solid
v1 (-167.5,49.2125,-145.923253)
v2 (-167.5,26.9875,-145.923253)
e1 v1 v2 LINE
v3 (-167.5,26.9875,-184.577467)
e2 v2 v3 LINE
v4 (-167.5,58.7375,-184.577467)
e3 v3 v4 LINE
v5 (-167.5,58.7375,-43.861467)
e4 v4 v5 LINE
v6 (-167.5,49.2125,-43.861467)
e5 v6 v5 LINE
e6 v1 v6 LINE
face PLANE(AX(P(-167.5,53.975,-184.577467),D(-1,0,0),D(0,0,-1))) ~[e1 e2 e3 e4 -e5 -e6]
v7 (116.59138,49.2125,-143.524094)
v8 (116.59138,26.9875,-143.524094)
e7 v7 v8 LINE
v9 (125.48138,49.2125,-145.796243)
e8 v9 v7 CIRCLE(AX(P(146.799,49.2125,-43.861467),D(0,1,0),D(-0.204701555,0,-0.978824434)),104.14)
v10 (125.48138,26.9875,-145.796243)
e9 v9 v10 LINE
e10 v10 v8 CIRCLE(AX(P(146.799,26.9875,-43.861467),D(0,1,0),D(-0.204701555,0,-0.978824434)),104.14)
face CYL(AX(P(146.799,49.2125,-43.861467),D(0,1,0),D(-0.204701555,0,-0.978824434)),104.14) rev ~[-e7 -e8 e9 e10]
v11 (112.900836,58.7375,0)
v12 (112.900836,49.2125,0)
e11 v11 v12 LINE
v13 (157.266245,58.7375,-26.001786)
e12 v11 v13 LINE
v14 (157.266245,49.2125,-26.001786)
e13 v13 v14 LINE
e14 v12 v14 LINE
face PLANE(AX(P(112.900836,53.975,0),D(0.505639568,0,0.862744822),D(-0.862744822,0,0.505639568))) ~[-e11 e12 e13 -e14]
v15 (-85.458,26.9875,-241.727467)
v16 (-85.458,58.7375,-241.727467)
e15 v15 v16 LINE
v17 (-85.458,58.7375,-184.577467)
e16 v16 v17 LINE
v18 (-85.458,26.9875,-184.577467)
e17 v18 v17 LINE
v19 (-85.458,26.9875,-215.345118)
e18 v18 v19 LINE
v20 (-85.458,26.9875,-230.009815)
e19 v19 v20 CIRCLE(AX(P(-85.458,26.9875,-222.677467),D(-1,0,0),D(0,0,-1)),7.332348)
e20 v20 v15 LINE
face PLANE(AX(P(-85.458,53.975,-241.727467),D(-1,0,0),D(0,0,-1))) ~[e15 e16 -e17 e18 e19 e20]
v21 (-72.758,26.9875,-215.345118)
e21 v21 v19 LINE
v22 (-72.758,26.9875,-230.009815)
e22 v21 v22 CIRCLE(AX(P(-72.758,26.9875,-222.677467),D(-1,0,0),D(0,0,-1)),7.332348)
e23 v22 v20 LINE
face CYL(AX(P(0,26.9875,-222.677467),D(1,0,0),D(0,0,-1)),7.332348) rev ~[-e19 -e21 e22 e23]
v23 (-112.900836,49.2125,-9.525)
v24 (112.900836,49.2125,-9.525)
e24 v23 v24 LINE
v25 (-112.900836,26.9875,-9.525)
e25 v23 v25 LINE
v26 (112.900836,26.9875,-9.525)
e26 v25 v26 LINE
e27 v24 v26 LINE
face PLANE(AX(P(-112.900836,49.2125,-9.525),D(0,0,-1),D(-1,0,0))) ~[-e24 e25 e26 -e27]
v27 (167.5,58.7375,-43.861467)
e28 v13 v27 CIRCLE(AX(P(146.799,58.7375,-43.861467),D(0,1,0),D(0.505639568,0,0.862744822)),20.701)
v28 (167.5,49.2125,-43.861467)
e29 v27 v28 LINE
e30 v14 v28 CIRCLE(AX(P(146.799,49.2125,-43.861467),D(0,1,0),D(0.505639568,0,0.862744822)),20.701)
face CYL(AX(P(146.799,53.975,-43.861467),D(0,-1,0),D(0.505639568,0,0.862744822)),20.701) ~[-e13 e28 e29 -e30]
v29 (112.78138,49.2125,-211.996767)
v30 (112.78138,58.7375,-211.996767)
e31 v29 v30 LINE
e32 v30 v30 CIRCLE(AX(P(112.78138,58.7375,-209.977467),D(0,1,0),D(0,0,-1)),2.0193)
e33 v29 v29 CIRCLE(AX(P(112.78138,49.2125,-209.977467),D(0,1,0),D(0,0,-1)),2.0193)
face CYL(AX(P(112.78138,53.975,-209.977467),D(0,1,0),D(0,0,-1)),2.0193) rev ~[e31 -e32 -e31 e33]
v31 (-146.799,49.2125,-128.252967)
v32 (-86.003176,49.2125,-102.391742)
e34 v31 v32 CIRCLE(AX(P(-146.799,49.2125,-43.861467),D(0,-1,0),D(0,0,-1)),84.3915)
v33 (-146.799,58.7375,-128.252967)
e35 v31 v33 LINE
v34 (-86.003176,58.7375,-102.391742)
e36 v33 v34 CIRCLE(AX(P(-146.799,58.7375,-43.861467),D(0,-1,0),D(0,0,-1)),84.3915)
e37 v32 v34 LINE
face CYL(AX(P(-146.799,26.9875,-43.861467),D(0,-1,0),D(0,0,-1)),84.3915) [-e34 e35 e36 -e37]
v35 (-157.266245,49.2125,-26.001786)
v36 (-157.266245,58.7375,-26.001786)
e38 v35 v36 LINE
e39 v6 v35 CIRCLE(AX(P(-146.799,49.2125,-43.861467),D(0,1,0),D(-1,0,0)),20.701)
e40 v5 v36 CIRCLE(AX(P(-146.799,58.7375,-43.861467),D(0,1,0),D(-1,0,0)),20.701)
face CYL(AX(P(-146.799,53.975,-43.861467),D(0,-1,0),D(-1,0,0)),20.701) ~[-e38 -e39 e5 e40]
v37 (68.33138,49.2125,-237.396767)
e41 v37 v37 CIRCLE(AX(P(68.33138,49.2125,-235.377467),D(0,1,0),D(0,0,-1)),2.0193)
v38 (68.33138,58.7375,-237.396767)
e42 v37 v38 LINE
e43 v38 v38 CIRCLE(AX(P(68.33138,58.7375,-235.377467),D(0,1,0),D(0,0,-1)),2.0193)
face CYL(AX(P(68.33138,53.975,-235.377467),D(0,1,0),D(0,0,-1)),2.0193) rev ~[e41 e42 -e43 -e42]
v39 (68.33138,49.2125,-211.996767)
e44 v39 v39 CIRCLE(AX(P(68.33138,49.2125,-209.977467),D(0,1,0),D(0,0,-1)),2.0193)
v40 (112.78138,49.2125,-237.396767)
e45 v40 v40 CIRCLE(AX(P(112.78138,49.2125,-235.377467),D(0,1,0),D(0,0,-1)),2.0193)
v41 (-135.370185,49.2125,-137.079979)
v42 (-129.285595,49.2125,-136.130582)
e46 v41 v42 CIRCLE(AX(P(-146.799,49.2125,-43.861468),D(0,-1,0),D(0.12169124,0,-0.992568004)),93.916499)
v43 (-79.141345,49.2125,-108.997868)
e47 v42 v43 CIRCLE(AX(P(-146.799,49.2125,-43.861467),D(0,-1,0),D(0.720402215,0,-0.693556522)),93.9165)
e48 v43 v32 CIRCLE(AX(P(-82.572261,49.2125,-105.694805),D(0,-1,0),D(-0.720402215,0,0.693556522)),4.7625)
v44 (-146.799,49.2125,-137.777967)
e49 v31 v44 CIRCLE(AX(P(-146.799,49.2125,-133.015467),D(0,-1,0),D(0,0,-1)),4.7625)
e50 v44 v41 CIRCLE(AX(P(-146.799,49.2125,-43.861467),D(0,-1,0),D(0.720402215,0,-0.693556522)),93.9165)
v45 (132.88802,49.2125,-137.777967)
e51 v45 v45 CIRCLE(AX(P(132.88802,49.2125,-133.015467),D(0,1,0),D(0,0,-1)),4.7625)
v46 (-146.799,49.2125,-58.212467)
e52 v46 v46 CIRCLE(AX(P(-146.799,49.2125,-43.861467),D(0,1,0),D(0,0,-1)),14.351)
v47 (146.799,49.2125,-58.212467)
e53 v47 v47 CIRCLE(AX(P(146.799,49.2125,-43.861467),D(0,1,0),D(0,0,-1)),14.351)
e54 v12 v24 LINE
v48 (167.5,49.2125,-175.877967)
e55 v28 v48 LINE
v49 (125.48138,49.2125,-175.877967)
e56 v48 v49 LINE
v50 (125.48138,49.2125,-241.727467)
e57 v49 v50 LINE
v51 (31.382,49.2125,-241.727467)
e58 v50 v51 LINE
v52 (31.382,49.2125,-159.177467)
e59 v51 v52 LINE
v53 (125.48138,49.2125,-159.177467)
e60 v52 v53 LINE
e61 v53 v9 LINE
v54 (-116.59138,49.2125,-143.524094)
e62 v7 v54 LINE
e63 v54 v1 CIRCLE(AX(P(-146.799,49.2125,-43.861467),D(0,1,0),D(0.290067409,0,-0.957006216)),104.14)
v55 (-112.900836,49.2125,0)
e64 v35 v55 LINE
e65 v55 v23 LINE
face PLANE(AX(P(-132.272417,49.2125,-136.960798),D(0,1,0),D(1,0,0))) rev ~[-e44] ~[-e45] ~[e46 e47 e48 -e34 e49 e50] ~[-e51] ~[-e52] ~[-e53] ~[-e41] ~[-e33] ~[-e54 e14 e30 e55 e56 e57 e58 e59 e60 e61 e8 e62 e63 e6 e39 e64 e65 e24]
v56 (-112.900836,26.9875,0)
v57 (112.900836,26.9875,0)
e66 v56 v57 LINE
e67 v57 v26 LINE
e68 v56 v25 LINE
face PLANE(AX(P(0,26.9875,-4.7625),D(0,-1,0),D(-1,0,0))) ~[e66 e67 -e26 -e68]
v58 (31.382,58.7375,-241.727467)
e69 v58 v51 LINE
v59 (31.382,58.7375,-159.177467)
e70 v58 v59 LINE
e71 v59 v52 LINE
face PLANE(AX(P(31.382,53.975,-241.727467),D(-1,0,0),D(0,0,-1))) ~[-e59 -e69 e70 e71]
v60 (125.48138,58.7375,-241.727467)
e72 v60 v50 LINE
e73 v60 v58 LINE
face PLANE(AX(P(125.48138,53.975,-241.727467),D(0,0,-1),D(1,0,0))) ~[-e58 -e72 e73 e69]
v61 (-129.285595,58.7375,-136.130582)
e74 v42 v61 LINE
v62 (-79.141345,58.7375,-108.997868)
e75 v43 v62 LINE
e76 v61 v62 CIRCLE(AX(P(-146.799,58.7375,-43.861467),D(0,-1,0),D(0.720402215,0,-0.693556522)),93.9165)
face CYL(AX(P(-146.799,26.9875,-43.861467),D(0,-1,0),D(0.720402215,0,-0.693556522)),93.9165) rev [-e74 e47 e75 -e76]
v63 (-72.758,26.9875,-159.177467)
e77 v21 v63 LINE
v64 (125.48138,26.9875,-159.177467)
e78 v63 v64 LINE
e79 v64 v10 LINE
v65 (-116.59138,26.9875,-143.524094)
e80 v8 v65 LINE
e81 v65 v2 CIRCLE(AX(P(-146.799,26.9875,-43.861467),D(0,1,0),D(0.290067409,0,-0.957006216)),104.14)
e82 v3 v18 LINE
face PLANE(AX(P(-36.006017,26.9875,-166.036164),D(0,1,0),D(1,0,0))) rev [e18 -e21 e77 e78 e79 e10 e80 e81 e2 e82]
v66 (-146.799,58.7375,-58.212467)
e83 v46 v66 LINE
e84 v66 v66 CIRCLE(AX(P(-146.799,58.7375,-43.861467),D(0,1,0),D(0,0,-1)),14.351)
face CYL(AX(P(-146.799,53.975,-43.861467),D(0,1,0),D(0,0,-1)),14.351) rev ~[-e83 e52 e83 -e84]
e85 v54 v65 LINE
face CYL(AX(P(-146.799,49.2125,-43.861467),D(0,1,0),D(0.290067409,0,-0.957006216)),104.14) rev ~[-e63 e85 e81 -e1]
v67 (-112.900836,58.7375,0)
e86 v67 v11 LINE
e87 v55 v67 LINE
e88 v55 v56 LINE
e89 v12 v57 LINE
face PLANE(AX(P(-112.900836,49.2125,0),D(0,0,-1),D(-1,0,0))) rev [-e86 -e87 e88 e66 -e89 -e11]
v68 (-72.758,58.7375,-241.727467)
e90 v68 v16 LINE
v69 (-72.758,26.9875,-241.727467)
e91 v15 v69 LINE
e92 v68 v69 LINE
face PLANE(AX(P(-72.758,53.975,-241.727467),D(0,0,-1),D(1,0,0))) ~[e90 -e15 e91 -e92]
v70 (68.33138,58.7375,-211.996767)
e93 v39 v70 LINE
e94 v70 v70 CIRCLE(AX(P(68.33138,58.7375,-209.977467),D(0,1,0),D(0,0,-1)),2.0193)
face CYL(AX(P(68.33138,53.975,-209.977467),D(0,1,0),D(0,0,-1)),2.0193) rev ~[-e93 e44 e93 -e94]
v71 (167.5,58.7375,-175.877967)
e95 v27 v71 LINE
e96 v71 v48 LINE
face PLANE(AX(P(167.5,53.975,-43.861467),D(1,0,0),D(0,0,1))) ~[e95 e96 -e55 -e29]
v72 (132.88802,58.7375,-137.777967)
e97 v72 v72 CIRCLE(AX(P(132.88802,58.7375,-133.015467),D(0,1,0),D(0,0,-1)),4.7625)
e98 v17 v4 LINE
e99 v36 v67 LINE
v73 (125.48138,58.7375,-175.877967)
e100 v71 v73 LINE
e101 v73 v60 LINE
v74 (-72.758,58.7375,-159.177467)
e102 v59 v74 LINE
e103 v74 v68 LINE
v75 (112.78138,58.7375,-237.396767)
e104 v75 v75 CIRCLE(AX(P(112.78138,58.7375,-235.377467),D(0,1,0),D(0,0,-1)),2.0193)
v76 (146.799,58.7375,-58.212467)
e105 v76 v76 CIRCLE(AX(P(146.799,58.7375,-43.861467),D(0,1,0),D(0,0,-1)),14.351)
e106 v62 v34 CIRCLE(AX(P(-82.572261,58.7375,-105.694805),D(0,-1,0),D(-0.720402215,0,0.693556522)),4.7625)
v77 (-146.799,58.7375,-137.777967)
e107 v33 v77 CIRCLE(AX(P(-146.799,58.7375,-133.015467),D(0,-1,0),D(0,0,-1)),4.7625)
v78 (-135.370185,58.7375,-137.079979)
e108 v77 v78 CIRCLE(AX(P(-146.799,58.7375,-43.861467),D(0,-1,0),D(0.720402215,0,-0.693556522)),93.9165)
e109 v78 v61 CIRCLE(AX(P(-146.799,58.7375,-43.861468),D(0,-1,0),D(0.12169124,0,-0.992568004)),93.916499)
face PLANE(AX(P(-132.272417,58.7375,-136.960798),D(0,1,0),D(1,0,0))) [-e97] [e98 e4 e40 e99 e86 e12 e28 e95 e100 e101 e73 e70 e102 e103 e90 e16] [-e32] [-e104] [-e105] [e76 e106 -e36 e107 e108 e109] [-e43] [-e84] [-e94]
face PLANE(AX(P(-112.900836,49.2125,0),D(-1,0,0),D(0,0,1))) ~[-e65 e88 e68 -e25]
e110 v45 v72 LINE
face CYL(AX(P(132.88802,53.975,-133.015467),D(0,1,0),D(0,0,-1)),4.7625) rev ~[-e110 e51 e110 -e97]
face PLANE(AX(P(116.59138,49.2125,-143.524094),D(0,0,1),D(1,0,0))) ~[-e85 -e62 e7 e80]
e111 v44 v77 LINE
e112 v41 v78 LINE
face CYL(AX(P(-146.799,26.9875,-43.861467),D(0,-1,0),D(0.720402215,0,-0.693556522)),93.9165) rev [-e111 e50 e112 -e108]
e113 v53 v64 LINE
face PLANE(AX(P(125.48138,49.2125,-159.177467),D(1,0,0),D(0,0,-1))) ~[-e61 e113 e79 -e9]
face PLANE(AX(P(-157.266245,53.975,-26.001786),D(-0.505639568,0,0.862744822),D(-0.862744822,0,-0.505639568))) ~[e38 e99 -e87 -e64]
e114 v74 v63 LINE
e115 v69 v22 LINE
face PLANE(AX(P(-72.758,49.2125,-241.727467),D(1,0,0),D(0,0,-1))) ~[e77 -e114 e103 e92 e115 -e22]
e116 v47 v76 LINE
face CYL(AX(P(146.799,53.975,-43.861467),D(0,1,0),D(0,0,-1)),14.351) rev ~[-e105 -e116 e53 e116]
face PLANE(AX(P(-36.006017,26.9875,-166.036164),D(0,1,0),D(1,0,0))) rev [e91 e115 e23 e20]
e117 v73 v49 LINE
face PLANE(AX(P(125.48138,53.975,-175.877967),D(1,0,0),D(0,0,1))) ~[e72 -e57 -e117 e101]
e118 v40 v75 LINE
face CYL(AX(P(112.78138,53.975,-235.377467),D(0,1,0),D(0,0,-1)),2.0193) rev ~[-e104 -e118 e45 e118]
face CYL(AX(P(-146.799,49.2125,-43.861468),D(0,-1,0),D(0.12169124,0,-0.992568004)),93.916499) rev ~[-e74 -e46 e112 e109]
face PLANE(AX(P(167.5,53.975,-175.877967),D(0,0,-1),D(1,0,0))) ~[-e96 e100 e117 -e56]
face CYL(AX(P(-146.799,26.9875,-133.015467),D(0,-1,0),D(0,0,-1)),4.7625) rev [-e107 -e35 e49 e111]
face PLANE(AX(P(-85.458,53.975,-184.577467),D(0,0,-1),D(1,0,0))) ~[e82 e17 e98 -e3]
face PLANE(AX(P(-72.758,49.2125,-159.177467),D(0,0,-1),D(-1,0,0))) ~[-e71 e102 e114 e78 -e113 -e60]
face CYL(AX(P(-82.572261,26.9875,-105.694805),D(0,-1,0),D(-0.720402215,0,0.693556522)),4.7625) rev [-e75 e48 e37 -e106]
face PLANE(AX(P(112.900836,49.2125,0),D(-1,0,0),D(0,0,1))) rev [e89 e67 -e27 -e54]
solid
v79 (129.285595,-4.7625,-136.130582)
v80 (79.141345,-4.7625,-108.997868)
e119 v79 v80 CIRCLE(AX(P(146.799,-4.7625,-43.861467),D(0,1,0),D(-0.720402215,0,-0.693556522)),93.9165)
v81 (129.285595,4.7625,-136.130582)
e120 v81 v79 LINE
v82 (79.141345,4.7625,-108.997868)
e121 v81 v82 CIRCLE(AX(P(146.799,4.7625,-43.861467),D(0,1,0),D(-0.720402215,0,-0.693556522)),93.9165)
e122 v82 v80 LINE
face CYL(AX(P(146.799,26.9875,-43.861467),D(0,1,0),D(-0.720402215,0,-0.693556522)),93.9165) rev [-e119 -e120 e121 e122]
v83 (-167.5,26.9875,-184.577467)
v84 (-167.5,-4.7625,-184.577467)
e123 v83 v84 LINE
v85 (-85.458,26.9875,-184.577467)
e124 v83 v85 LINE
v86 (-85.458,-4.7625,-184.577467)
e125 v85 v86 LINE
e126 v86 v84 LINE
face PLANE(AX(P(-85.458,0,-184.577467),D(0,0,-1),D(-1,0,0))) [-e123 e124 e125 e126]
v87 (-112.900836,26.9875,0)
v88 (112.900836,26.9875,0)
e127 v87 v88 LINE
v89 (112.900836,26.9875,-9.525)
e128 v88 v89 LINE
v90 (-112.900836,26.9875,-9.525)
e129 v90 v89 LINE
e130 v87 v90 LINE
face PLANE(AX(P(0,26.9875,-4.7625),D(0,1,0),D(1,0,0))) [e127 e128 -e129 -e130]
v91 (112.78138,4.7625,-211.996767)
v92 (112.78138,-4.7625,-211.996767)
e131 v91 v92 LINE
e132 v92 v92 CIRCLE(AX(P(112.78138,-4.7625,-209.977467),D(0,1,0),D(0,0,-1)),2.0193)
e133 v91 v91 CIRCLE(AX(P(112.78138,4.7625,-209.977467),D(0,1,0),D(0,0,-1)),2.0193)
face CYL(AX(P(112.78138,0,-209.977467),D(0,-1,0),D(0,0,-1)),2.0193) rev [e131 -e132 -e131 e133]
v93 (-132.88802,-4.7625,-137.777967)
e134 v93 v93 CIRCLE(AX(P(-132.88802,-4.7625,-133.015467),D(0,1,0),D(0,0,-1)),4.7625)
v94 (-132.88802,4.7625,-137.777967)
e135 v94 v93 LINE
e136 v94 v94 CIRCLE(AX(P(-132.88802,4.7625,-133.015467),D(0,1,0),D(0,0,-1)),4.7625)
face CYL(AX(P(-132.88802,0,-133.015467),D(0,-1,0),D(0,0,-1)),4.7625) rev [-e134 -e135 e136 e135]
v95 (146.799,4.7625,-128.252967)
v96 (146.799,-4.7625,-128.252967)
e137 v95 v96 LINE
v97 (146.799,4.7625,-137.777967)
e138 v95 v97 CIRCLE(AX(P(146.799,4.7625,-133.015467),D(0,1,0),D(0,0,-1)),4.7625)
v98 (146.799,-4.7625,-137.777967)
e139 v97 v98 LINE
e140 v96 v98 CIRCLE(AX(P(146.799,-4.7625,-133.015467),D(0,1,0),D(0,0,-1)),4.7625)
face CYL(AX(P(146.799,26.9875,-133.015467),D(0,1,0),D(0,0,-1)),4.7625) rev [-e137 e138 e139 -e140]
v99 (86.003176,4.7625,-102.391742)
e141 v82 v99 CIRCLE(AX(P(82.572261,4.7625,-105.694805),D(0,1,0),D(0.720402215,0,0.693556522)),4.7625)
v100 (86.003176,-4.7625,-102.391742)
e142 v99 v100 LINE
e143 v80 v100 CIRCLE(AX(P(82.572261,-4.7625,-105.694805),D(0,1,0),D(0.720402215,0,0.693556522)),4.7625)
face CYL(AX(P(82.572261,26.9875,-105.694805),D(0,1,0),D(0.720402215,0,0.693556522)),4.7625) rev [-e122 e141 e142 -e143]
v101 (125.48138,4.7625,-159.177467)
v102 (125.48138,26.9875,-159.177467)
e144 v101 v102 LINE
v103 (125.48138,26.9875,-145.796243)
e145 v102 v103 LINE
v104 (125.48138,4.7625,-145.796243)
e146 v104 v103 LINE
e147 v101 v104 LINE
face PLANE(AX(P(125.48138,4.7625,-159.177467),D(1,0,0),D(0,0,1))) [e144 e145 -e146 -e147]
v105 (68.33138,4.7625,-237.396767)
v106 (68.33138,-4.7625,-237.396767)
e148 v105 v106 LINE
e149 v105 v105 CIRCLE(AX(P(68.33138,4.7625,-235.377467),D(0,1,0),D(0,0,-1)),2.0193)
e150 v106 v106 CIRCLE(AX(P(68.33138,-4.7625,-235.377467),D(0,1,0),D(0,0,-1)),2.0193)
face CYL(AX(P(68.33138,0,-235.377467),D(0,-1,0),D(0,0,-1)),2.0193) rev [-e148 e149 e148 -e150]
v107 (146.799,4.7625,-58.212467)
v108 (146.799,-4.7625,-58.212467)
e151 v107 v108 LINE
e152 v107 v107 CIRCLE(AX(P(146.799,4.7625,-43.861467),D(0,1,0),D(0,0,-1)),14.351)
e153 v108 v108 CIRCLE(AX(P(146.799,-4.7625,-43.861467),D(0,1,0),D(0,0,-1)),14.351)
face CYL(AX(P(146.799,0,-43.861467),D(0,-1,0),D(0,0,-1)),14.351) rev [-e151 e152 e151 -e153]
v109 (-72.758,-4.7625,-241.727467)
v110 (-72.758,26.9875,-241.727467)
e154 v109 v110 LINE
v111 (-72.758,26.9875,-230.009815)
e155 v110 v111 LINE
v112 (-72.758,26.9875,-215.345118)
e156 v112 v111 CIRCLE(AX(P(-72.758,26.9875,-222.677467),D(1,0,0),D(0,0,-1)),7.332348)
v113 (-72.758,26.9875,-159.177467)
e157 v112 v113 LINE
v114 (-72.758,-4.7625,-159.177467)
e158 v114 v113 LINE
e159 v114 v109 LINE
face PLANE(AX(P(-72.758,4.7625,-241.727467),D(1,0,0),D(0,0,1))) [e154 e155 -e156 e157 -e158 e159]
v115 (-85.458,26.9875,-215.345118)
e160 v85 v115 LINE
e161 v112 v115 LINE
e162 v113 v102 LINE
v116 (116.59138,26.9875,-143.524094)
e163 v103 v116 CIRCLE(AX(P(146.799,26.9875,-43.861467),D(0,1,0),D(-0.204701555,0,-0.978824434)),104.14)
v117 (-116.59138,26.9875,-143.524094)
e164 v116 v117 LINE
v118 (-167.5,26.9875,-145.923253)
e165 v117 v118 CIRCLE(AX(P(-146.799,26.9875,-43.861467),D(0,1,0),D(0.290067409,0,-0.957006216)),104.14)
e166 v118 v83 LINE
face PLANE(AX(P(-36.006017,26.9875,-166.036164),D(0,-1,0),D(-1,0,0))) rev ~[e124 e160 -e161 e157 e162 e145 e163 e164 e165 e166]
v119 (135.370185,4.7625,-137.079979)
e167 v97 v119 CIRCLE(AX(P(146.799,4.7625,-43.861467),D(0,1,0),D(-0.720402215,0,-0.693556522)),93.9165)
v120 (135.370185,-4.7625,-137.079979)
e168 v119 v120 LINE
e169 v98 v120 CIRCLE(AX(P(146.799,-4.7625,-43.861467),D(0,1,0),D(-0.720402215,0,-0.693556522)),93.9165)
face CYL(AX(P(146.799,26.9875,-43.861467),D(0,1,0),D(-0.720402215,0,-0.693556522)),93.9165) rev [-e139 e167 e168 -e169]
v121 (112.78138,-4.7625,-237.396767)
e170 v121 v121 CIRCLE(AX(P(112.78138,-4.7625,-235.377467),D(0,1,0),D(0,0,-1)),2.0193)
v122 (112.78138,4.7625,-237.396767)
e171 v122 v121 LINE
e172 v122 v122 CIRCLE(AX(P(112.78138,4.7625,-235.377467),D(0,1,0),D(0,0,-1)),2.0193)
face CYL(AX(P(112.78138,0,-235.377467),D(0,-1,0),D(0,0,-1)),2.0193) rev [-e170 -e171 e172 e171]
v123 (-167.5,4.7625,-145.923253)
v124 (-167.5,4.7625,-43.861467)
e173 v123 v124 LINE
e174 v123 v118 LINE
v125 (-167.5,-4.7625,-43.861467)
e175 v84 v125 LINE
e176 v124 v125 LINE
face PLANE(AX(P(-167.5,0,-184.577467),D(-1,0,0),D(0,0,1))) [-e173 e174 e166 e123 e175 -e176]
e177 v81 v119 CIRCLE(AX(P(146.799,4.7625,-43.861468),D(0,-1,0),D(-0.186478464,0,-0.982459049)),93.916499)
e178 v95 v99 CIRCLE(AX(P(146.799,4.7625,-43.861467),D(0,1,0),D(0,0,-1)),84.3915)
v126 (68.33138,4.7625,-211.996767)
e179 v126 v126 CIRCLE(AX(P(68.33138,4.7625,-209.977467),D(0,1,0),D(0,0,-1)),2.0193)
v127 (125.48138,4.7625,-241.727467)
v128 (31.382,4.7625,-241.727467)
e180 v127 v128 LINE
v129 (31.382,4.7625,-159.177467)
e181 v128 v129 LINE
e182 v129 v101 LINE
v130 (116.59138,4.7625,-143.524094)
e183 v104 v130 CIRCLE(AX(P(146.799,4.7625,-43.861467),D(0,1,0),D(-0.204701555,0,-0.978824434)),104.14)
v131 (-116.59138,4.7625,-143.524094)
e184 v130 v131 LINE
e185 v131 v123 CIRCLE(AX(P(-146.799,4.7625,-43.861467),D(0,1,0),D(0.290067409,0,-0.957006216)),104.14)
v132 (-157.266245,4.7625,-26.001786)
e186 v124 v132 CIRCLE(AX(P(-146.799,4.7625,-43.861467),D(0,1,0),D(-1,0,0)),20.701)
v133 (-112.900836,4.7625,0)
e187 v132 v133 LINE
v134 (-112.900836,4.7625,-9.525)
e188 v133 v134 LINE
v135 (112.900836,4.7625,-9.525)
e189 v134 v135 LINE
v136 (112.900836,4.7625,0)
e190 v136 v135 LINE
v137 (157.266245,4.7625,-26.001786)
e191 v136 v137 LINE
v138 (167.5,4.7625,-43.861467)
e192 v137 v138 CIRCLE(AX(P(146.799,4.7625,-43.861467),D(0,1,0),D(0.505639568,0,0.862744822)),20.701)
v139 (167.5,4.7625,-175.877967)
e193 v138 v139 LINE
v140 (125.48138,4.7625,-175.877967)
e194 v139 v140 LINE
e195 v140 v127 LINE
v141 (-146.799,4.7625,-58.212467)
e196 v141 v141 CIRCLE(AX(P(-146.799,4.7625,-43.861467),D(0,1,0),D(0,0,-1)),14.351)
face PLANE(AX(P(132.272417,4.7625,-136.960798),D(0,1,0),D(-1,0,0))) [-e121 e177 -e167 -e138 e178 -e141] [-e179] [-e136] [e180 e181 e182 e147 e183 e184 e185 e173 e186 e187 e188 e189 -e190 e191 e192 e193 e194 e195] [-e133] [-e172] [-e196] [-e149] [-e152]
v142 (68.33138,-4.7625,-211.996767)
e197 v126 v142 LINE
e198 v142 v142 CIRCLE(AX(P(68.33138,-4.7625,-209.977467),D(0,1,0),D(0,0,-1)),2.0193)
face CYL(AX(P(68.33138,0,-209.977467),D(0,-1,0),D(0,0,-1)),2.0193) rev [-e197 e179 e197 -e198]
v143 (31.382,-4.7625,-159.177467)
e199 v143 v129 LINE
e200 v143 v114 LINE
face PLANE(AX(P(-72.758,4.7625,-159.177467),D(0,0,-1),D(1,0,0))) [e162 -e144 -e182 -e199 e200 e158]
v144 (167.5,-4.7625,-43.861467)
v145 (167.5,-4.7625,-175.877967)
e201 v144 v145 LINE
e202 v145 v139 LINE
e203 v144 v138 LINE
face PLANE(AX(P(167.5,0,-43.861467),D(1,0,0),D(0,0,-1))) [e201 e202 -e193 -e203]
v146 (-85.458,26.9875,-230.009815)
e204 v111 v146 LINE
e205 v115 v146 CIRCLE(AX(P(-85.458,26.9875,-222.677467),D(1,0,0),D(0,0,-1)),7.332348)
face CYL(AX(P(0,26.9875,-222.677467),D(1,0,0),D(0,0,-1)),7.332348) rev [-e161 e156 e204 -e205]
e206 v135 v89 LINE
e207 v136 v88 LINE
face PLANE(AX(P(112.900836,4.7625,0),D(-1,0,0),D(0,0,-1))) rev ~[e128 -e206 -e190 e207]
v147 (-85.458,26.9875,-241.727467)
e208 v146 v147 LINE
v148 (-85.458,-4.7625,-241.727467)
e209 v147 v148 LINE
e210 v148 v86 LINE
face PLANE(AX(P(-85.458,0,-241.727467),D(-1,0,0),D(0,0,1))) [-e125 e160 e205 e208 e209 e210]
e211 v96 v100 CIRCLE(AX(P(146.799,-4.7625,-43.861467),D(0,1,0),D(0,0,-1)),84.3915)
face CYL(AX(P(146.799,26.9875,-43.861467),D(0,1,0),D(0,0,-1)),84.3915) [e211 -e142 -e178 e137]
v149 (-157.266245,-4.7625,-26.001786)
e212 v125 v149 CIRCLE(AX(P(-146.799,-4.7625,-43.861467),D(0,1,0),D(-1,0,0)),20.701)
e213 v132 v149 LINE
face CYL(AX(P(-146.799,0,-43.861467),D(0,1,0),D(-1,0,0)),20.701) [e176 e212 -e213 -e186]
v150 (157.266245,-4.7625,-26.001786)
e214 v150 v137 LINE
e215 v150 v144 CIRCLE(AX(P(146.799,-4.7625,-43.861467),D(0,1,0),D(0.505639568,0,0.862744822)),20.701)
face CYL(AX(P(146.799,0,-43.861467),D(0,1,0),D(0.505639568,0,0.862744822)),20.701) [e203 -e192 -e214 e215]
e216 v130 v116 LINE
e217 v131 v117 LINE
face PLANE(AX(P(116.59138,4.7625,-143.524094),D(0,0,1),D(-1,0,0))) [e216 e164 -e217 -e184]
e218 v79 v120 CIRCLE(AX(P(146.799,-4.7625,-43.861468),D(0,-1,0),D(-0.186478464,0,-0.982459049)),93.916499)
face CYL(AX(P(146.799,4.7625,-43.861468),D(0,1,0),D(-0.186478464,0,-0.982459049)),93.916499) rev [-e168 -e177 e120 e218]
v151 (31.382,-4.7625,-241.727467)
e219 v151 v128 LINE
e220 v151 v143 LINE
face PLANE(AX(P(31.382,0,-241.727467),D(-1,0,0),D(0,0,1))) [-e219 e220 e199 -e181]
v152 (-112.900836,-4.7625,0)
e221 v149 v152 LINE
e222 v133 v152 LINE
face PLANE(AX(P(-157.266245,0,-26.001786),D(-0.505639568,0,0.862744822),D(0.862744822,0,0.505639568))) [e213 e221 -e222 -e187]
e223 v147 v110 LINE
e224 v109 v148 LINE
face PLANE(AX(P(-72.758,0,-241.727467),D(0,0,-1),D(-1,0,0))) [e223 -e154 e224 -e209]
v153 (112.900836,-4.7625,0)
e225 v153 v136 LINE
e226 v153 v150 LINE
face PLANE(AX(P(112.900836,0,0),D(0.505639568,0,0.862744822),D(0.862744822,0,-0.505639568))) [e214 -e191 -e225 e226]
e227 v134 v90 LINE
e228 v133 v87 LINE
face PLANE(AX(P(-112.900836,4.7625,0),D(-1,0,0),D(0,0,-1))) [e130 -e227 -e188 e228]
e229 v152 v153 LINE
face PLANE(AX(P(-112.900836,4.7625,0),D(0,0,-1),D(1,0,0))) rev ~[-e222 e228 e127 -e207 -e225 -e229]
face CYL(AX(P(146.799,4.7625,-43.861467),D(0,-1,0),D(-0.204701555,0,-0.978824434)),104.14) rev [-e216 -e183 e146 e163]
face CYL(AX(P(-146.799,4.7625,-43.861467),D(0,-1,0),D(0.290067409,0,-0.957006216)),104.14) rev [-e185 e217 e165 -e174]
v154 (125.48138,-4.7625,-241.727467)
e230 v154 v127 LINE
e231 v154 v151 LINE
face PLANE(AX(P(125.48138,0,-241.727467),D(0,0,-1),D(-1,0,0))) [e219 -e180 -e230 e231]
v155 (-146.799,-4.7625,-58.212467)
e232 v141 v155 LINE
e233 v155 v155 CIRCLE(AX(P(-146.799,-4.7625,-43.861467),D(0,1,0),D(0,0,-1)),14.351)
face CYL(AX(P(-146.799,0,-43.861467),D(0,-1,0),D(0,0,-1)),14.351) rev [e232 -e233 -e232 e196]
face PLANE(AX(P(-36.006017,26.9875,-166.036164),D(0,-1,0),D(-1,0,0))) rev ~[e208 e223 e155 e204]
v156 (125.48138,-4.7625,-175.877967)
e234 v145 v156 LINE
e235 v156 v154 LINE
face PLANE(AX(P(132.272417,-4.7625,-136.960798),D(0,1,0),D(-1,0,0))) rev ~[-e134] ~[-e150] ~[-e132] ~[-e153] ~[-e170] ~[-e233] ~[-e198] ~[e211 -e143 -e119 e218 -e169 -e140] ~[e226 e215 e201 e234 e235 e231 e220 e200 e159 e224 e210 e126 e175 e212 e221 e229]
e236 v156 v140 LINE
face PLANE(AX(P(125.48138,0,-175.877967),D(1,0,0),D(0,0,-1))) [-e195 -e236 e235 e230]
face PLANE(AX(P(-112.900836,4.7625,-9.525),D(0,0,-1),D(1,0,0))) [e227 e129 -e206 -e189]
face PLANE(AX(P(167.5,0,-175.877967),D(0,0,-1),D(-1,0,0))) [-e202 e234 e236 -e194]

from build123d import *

# Parameters (mm, degrees)
SKETCH1_R           = 14.351
SKETCH1_R_2         = 4.7625
SKETCH1_R_3         = 2.0193
BOSS_EXTRUDE1_DEPTH = 4.7625
SKETCH6_W           = 225.801671476
SKETCH6_H           = 9.525
BOSS_EXTRUDE3_DEPTH = 22.225
CUT_EXTRUDE1_DEPTH  = 167.5
CUT_EXTRUDE3_DEPTH  = 296.798040186
CUT_EXTRUDE8_DEPTH  = 296.798040186
BOSS_EXTRUDE4_START = -9.525
BOSS_EXTRUDE4_DEPTH = 9.525
BOSS_EXTRUDE5_START = -9.525
BOSS_EXTRUDE5_DEPTH = 9.525


with BuildPart() as part:
    # Sketch1 → Boss-Extrude1 (new, symmetric)
    with BuildSketch(Plane(origin=(0, 0, 0), x_dir=(1, 0, 0), z_dir=(0, 1, 0))):
        with BuildLine():
            Line((-112.900835738, 0), (112.900835738, 0))
            Line((112.900835738, 0), (157.266244694, 26.001785981))
            ThreePointArc((157.266244694, 26.001785981), (164.760261557, 33.569504415), (167.5, 43.861466536))
            Line((167.5, 43.861466536), (167.5, 175.877966536))
            Line((167.5, 175.877966536), (125.48138, 175.877966536))
            Line((125.48138, 175.877966536), (125.48138, 241.727466536))
            Line((125.48138, 241.727466536), (31.382, 241.727466536))
            Line((31.382, 241.727466536), (31.382, 159.177466536))
            Line((31.382, 159.177466536), (-72.758, 159.177466536))
            Line((-72.758, 159.177466536), (-72.758, 241.727466536))
            Line((-72.758, 241.727466536), (-85.458, 241.727466536))
            Line((-85.458, 241.727466536), (-85.458, 184.577466536))
            Line((-85.458, 184.577466536), (-167.5, 184.577466536))
            Line((-167.5, 184.577466536), (-167.5, 43.861466536))
            ThreePointArc((-167.5, 43.861466536), (-164.760261557, 33.569504415), (-157.266244694, 26.001785981))
            Line((-157.266244694, 26.001785981), (-112.900835738, 0))
        make_face()
        with Locations(Location((146.799, 43.861466536, 0), (0, 0, 90))):
            Circle(SKETCH1_R, mode=Mode.SUBTRACT)
        with Locations(Location((-132.88802, 133.015466536, 0), (0, 0, 90))):
            Circle(SKETCH1_R_2, mode=Mode.SUBTRACT)
        with Locations(Location((-146.799, 43.861466536, 0), (0, 0, 90))):
            Circle(SKETCH1_R, mode=Mode.SUBTRACT)
        with Locations(Location((132.88802, 133.015466536, 0), (0, 0, 90))):
            Circle(SKETCH1_R_2, mode=Mode.SUBTRACT)
        with Locations(Location((112.78138, 235.377466536, 0), (0, 0, 90))):
            Circle(SKETCH1_R_3, mode=Mode.SUBTRACT)
        with Locations(Location((112.78138, 209.977466536, 0), (0, 0, 90))):
            Circle(SKETCH1_R_3, mode=Mode.SUBTRACT)
        with Locations(Location((68.33138, 209.977466536, 0), (0, 0, 90))):
            Circle(SKETCH1_R_3, mode=Mode.SUBTRACT)
        with Locations(Location((68.33138, 235.377466536, 0), (0, 0, 90))):
            Circle(SKETCH1_R_3, mode=Mode.SUBTRACT)
    extrude(amount=BOSS_EXTRUDE1_DEPTH, both=True)

    # Sketch6 → Boss-Extrude3 (add)
    with BuildSketch(Plane(origin=(0, 4.7625, 0), x_dir=(1, 0, 0), z_dir=(0, 1, 0))):
        with Locations((0, 4.7625)):
            Rectangle(SKETCH6_W, SKETCH6_H)
        with BuildLine():
            Line((-72.758, 159.177466536), (125.48138, 159.177466536))
            Line((125.48138, 159.177466536), (125.48138, 145.796243121))
            ThreePointArc((125.48138, 145.796243121), (121.011342976, 144.758128251), (116.59138, 143.524093904))
            Line((116.59138, 143.524093904), (-116.59138, 143.524093904))
            ThreePointArc((-116.59138, 143.524093904), (-141.896659058, 147.886014856), (-167.5, 145.92325272))
            Line((-167.5, 145.92325272), (-167.5, 184.577466536))
            Line((-167.5, 184.577466536), (-85.458, 184.577466536))
            Line((-85.458, 184.577466536), (-85.458, 241.727466536))
            Line((-85.458, 241.727466536), (-72.758, 241.727466536))
            Line((-72.758, 241.727466536), (-72.758, 159.177466536))
        make_face()
    extrude(amount=BOSS_EXTRUDE3_DEPTH)

    # Sketch5 → Cut-Extrude1 (cut)
    with BuildSketch(Plane(origin=(0, 0, 0), x_dir=(0, 0, -1), z_dir=(1, 0, 0))):
        with BuildLine():
            Line((215.345118117, 26.9875), (230.009814955, 26.9875))
            ThreePointArc((230.009814955, 26.9875), (222.677466536, 19.655151581), (215.345118117, 26.9875))
        make_face()
    extrude(amount=-CUT_EXTRUDE1_DEPTH, mode=Mode.SUBTRACT)


with BuildPart() as body_2:
    # Mirror3: mirrored copy
    add(part.part.mirror(Plane(origin=(-146.799, 26.9875, -43.861466536), x_dir=(0, 0, 1), z_dir=(0, 1, 0))))

    # Sketch7<5> → Cut-Extrude8 (cut, through all)
    with BuildSketch(Plane(origin=(0, 26.9875, 0), x_dir=(1, 0, 0), z_dir=(0, 1, 0))):
        with BuildLine():
            ThreePointArc((-79.1413454, 108.997867621), (-110.036749255, 130.283951413), (-146.799, 137.777966536))
            ThreePointArc((-146.799, 137.777966536), (-151.5615, 133.015466536), (-146.799, 128.252966536))
            ThreePointArc((-146.799, 128.252966536), (-113.765172251, 121.518993515), (-86.003176496, 102.39174175))
            ThreePointArc((-86.003176496, 102.39174175), (-79.269198013, 102.263889138), (-79.1413454, 108.997867621))
        make_face()
    extrude(amount=CUT_EXTRUDE8_DEPTH, mode=Mode.SUBTRACT)

    # Sketch9 → Boss-Extrude5 (add)
    with BuildSketch(Plane(origin=(0, 58.7375, 0), x_dir=(1, 0, 0), z_dir=(0, 1, 0)).offset(BOSS_EXTRUDE5_START)):
        with BuildLine():
            ThreePointArc((-135.37018458, 137.079979452), (-132.320106249, 136.655165719), (-129.285595376, 136.130581795))
            ThreePointArc((-129.285595376, 136.130581795), (-132.153796179, 137.721029375), (-135.37018458, 137.079979452))
        make_face()
    extrude(amount=BOSS_EXTRUDE5_DEPTH)


with BuildPart() as part_1:
    add(part.part)

    # Sketch7 → Cut-Extrude3 (cut, through all)
    with BuildSketch(Plane(origin=(0, 26.9875, 0), x_dir=(1, 0, 0), z_dir=(0, 1, 0))):
        with BuildLine():
            ThreePointArc((79.1413454, 108.997867621), (110.036749255, 130.283951413), (146.799, 137.777966536))
            ThreePointArc((146.799, 137.777966536), (151.5615, 133.015466536), (146.799, 128.252966536))
            ThreePointArc((146.799, 128.252966536), (113.765172251, 121.518993515), (86.003176496, 102.39174175))
            ThreePointArc((86.003176496, 102.39174175), (79.269198013, 102.263889138), (79.1413454, 108.997867621))
        make_face()
    extrude(amount=-CUT_EXTRUDE3_DEPTH, mode=Mode.SUBTRACT)

    # Sketch8 → Boss-Extrude4 (add)
    with BuildSketch(Plane.XZ.offset(4.7625).offset(BOSS_EXTRUDE4_START)):
        with BuildLine():
            ThreePointArc((129.285595376, -136.130581795), (132.320106249, -136.655165719), (135.37018458, -137.079979452))
            ThreePointArc((135.37018458, -137.079979452), (132.153796179, -137.721029375), (129.285595376, -136.130581795))
        make_face()
    extrude(amount=BOSS_EXTRUDE4_DEPTH)


solid = Compound([body_2.part, part_1.part])
